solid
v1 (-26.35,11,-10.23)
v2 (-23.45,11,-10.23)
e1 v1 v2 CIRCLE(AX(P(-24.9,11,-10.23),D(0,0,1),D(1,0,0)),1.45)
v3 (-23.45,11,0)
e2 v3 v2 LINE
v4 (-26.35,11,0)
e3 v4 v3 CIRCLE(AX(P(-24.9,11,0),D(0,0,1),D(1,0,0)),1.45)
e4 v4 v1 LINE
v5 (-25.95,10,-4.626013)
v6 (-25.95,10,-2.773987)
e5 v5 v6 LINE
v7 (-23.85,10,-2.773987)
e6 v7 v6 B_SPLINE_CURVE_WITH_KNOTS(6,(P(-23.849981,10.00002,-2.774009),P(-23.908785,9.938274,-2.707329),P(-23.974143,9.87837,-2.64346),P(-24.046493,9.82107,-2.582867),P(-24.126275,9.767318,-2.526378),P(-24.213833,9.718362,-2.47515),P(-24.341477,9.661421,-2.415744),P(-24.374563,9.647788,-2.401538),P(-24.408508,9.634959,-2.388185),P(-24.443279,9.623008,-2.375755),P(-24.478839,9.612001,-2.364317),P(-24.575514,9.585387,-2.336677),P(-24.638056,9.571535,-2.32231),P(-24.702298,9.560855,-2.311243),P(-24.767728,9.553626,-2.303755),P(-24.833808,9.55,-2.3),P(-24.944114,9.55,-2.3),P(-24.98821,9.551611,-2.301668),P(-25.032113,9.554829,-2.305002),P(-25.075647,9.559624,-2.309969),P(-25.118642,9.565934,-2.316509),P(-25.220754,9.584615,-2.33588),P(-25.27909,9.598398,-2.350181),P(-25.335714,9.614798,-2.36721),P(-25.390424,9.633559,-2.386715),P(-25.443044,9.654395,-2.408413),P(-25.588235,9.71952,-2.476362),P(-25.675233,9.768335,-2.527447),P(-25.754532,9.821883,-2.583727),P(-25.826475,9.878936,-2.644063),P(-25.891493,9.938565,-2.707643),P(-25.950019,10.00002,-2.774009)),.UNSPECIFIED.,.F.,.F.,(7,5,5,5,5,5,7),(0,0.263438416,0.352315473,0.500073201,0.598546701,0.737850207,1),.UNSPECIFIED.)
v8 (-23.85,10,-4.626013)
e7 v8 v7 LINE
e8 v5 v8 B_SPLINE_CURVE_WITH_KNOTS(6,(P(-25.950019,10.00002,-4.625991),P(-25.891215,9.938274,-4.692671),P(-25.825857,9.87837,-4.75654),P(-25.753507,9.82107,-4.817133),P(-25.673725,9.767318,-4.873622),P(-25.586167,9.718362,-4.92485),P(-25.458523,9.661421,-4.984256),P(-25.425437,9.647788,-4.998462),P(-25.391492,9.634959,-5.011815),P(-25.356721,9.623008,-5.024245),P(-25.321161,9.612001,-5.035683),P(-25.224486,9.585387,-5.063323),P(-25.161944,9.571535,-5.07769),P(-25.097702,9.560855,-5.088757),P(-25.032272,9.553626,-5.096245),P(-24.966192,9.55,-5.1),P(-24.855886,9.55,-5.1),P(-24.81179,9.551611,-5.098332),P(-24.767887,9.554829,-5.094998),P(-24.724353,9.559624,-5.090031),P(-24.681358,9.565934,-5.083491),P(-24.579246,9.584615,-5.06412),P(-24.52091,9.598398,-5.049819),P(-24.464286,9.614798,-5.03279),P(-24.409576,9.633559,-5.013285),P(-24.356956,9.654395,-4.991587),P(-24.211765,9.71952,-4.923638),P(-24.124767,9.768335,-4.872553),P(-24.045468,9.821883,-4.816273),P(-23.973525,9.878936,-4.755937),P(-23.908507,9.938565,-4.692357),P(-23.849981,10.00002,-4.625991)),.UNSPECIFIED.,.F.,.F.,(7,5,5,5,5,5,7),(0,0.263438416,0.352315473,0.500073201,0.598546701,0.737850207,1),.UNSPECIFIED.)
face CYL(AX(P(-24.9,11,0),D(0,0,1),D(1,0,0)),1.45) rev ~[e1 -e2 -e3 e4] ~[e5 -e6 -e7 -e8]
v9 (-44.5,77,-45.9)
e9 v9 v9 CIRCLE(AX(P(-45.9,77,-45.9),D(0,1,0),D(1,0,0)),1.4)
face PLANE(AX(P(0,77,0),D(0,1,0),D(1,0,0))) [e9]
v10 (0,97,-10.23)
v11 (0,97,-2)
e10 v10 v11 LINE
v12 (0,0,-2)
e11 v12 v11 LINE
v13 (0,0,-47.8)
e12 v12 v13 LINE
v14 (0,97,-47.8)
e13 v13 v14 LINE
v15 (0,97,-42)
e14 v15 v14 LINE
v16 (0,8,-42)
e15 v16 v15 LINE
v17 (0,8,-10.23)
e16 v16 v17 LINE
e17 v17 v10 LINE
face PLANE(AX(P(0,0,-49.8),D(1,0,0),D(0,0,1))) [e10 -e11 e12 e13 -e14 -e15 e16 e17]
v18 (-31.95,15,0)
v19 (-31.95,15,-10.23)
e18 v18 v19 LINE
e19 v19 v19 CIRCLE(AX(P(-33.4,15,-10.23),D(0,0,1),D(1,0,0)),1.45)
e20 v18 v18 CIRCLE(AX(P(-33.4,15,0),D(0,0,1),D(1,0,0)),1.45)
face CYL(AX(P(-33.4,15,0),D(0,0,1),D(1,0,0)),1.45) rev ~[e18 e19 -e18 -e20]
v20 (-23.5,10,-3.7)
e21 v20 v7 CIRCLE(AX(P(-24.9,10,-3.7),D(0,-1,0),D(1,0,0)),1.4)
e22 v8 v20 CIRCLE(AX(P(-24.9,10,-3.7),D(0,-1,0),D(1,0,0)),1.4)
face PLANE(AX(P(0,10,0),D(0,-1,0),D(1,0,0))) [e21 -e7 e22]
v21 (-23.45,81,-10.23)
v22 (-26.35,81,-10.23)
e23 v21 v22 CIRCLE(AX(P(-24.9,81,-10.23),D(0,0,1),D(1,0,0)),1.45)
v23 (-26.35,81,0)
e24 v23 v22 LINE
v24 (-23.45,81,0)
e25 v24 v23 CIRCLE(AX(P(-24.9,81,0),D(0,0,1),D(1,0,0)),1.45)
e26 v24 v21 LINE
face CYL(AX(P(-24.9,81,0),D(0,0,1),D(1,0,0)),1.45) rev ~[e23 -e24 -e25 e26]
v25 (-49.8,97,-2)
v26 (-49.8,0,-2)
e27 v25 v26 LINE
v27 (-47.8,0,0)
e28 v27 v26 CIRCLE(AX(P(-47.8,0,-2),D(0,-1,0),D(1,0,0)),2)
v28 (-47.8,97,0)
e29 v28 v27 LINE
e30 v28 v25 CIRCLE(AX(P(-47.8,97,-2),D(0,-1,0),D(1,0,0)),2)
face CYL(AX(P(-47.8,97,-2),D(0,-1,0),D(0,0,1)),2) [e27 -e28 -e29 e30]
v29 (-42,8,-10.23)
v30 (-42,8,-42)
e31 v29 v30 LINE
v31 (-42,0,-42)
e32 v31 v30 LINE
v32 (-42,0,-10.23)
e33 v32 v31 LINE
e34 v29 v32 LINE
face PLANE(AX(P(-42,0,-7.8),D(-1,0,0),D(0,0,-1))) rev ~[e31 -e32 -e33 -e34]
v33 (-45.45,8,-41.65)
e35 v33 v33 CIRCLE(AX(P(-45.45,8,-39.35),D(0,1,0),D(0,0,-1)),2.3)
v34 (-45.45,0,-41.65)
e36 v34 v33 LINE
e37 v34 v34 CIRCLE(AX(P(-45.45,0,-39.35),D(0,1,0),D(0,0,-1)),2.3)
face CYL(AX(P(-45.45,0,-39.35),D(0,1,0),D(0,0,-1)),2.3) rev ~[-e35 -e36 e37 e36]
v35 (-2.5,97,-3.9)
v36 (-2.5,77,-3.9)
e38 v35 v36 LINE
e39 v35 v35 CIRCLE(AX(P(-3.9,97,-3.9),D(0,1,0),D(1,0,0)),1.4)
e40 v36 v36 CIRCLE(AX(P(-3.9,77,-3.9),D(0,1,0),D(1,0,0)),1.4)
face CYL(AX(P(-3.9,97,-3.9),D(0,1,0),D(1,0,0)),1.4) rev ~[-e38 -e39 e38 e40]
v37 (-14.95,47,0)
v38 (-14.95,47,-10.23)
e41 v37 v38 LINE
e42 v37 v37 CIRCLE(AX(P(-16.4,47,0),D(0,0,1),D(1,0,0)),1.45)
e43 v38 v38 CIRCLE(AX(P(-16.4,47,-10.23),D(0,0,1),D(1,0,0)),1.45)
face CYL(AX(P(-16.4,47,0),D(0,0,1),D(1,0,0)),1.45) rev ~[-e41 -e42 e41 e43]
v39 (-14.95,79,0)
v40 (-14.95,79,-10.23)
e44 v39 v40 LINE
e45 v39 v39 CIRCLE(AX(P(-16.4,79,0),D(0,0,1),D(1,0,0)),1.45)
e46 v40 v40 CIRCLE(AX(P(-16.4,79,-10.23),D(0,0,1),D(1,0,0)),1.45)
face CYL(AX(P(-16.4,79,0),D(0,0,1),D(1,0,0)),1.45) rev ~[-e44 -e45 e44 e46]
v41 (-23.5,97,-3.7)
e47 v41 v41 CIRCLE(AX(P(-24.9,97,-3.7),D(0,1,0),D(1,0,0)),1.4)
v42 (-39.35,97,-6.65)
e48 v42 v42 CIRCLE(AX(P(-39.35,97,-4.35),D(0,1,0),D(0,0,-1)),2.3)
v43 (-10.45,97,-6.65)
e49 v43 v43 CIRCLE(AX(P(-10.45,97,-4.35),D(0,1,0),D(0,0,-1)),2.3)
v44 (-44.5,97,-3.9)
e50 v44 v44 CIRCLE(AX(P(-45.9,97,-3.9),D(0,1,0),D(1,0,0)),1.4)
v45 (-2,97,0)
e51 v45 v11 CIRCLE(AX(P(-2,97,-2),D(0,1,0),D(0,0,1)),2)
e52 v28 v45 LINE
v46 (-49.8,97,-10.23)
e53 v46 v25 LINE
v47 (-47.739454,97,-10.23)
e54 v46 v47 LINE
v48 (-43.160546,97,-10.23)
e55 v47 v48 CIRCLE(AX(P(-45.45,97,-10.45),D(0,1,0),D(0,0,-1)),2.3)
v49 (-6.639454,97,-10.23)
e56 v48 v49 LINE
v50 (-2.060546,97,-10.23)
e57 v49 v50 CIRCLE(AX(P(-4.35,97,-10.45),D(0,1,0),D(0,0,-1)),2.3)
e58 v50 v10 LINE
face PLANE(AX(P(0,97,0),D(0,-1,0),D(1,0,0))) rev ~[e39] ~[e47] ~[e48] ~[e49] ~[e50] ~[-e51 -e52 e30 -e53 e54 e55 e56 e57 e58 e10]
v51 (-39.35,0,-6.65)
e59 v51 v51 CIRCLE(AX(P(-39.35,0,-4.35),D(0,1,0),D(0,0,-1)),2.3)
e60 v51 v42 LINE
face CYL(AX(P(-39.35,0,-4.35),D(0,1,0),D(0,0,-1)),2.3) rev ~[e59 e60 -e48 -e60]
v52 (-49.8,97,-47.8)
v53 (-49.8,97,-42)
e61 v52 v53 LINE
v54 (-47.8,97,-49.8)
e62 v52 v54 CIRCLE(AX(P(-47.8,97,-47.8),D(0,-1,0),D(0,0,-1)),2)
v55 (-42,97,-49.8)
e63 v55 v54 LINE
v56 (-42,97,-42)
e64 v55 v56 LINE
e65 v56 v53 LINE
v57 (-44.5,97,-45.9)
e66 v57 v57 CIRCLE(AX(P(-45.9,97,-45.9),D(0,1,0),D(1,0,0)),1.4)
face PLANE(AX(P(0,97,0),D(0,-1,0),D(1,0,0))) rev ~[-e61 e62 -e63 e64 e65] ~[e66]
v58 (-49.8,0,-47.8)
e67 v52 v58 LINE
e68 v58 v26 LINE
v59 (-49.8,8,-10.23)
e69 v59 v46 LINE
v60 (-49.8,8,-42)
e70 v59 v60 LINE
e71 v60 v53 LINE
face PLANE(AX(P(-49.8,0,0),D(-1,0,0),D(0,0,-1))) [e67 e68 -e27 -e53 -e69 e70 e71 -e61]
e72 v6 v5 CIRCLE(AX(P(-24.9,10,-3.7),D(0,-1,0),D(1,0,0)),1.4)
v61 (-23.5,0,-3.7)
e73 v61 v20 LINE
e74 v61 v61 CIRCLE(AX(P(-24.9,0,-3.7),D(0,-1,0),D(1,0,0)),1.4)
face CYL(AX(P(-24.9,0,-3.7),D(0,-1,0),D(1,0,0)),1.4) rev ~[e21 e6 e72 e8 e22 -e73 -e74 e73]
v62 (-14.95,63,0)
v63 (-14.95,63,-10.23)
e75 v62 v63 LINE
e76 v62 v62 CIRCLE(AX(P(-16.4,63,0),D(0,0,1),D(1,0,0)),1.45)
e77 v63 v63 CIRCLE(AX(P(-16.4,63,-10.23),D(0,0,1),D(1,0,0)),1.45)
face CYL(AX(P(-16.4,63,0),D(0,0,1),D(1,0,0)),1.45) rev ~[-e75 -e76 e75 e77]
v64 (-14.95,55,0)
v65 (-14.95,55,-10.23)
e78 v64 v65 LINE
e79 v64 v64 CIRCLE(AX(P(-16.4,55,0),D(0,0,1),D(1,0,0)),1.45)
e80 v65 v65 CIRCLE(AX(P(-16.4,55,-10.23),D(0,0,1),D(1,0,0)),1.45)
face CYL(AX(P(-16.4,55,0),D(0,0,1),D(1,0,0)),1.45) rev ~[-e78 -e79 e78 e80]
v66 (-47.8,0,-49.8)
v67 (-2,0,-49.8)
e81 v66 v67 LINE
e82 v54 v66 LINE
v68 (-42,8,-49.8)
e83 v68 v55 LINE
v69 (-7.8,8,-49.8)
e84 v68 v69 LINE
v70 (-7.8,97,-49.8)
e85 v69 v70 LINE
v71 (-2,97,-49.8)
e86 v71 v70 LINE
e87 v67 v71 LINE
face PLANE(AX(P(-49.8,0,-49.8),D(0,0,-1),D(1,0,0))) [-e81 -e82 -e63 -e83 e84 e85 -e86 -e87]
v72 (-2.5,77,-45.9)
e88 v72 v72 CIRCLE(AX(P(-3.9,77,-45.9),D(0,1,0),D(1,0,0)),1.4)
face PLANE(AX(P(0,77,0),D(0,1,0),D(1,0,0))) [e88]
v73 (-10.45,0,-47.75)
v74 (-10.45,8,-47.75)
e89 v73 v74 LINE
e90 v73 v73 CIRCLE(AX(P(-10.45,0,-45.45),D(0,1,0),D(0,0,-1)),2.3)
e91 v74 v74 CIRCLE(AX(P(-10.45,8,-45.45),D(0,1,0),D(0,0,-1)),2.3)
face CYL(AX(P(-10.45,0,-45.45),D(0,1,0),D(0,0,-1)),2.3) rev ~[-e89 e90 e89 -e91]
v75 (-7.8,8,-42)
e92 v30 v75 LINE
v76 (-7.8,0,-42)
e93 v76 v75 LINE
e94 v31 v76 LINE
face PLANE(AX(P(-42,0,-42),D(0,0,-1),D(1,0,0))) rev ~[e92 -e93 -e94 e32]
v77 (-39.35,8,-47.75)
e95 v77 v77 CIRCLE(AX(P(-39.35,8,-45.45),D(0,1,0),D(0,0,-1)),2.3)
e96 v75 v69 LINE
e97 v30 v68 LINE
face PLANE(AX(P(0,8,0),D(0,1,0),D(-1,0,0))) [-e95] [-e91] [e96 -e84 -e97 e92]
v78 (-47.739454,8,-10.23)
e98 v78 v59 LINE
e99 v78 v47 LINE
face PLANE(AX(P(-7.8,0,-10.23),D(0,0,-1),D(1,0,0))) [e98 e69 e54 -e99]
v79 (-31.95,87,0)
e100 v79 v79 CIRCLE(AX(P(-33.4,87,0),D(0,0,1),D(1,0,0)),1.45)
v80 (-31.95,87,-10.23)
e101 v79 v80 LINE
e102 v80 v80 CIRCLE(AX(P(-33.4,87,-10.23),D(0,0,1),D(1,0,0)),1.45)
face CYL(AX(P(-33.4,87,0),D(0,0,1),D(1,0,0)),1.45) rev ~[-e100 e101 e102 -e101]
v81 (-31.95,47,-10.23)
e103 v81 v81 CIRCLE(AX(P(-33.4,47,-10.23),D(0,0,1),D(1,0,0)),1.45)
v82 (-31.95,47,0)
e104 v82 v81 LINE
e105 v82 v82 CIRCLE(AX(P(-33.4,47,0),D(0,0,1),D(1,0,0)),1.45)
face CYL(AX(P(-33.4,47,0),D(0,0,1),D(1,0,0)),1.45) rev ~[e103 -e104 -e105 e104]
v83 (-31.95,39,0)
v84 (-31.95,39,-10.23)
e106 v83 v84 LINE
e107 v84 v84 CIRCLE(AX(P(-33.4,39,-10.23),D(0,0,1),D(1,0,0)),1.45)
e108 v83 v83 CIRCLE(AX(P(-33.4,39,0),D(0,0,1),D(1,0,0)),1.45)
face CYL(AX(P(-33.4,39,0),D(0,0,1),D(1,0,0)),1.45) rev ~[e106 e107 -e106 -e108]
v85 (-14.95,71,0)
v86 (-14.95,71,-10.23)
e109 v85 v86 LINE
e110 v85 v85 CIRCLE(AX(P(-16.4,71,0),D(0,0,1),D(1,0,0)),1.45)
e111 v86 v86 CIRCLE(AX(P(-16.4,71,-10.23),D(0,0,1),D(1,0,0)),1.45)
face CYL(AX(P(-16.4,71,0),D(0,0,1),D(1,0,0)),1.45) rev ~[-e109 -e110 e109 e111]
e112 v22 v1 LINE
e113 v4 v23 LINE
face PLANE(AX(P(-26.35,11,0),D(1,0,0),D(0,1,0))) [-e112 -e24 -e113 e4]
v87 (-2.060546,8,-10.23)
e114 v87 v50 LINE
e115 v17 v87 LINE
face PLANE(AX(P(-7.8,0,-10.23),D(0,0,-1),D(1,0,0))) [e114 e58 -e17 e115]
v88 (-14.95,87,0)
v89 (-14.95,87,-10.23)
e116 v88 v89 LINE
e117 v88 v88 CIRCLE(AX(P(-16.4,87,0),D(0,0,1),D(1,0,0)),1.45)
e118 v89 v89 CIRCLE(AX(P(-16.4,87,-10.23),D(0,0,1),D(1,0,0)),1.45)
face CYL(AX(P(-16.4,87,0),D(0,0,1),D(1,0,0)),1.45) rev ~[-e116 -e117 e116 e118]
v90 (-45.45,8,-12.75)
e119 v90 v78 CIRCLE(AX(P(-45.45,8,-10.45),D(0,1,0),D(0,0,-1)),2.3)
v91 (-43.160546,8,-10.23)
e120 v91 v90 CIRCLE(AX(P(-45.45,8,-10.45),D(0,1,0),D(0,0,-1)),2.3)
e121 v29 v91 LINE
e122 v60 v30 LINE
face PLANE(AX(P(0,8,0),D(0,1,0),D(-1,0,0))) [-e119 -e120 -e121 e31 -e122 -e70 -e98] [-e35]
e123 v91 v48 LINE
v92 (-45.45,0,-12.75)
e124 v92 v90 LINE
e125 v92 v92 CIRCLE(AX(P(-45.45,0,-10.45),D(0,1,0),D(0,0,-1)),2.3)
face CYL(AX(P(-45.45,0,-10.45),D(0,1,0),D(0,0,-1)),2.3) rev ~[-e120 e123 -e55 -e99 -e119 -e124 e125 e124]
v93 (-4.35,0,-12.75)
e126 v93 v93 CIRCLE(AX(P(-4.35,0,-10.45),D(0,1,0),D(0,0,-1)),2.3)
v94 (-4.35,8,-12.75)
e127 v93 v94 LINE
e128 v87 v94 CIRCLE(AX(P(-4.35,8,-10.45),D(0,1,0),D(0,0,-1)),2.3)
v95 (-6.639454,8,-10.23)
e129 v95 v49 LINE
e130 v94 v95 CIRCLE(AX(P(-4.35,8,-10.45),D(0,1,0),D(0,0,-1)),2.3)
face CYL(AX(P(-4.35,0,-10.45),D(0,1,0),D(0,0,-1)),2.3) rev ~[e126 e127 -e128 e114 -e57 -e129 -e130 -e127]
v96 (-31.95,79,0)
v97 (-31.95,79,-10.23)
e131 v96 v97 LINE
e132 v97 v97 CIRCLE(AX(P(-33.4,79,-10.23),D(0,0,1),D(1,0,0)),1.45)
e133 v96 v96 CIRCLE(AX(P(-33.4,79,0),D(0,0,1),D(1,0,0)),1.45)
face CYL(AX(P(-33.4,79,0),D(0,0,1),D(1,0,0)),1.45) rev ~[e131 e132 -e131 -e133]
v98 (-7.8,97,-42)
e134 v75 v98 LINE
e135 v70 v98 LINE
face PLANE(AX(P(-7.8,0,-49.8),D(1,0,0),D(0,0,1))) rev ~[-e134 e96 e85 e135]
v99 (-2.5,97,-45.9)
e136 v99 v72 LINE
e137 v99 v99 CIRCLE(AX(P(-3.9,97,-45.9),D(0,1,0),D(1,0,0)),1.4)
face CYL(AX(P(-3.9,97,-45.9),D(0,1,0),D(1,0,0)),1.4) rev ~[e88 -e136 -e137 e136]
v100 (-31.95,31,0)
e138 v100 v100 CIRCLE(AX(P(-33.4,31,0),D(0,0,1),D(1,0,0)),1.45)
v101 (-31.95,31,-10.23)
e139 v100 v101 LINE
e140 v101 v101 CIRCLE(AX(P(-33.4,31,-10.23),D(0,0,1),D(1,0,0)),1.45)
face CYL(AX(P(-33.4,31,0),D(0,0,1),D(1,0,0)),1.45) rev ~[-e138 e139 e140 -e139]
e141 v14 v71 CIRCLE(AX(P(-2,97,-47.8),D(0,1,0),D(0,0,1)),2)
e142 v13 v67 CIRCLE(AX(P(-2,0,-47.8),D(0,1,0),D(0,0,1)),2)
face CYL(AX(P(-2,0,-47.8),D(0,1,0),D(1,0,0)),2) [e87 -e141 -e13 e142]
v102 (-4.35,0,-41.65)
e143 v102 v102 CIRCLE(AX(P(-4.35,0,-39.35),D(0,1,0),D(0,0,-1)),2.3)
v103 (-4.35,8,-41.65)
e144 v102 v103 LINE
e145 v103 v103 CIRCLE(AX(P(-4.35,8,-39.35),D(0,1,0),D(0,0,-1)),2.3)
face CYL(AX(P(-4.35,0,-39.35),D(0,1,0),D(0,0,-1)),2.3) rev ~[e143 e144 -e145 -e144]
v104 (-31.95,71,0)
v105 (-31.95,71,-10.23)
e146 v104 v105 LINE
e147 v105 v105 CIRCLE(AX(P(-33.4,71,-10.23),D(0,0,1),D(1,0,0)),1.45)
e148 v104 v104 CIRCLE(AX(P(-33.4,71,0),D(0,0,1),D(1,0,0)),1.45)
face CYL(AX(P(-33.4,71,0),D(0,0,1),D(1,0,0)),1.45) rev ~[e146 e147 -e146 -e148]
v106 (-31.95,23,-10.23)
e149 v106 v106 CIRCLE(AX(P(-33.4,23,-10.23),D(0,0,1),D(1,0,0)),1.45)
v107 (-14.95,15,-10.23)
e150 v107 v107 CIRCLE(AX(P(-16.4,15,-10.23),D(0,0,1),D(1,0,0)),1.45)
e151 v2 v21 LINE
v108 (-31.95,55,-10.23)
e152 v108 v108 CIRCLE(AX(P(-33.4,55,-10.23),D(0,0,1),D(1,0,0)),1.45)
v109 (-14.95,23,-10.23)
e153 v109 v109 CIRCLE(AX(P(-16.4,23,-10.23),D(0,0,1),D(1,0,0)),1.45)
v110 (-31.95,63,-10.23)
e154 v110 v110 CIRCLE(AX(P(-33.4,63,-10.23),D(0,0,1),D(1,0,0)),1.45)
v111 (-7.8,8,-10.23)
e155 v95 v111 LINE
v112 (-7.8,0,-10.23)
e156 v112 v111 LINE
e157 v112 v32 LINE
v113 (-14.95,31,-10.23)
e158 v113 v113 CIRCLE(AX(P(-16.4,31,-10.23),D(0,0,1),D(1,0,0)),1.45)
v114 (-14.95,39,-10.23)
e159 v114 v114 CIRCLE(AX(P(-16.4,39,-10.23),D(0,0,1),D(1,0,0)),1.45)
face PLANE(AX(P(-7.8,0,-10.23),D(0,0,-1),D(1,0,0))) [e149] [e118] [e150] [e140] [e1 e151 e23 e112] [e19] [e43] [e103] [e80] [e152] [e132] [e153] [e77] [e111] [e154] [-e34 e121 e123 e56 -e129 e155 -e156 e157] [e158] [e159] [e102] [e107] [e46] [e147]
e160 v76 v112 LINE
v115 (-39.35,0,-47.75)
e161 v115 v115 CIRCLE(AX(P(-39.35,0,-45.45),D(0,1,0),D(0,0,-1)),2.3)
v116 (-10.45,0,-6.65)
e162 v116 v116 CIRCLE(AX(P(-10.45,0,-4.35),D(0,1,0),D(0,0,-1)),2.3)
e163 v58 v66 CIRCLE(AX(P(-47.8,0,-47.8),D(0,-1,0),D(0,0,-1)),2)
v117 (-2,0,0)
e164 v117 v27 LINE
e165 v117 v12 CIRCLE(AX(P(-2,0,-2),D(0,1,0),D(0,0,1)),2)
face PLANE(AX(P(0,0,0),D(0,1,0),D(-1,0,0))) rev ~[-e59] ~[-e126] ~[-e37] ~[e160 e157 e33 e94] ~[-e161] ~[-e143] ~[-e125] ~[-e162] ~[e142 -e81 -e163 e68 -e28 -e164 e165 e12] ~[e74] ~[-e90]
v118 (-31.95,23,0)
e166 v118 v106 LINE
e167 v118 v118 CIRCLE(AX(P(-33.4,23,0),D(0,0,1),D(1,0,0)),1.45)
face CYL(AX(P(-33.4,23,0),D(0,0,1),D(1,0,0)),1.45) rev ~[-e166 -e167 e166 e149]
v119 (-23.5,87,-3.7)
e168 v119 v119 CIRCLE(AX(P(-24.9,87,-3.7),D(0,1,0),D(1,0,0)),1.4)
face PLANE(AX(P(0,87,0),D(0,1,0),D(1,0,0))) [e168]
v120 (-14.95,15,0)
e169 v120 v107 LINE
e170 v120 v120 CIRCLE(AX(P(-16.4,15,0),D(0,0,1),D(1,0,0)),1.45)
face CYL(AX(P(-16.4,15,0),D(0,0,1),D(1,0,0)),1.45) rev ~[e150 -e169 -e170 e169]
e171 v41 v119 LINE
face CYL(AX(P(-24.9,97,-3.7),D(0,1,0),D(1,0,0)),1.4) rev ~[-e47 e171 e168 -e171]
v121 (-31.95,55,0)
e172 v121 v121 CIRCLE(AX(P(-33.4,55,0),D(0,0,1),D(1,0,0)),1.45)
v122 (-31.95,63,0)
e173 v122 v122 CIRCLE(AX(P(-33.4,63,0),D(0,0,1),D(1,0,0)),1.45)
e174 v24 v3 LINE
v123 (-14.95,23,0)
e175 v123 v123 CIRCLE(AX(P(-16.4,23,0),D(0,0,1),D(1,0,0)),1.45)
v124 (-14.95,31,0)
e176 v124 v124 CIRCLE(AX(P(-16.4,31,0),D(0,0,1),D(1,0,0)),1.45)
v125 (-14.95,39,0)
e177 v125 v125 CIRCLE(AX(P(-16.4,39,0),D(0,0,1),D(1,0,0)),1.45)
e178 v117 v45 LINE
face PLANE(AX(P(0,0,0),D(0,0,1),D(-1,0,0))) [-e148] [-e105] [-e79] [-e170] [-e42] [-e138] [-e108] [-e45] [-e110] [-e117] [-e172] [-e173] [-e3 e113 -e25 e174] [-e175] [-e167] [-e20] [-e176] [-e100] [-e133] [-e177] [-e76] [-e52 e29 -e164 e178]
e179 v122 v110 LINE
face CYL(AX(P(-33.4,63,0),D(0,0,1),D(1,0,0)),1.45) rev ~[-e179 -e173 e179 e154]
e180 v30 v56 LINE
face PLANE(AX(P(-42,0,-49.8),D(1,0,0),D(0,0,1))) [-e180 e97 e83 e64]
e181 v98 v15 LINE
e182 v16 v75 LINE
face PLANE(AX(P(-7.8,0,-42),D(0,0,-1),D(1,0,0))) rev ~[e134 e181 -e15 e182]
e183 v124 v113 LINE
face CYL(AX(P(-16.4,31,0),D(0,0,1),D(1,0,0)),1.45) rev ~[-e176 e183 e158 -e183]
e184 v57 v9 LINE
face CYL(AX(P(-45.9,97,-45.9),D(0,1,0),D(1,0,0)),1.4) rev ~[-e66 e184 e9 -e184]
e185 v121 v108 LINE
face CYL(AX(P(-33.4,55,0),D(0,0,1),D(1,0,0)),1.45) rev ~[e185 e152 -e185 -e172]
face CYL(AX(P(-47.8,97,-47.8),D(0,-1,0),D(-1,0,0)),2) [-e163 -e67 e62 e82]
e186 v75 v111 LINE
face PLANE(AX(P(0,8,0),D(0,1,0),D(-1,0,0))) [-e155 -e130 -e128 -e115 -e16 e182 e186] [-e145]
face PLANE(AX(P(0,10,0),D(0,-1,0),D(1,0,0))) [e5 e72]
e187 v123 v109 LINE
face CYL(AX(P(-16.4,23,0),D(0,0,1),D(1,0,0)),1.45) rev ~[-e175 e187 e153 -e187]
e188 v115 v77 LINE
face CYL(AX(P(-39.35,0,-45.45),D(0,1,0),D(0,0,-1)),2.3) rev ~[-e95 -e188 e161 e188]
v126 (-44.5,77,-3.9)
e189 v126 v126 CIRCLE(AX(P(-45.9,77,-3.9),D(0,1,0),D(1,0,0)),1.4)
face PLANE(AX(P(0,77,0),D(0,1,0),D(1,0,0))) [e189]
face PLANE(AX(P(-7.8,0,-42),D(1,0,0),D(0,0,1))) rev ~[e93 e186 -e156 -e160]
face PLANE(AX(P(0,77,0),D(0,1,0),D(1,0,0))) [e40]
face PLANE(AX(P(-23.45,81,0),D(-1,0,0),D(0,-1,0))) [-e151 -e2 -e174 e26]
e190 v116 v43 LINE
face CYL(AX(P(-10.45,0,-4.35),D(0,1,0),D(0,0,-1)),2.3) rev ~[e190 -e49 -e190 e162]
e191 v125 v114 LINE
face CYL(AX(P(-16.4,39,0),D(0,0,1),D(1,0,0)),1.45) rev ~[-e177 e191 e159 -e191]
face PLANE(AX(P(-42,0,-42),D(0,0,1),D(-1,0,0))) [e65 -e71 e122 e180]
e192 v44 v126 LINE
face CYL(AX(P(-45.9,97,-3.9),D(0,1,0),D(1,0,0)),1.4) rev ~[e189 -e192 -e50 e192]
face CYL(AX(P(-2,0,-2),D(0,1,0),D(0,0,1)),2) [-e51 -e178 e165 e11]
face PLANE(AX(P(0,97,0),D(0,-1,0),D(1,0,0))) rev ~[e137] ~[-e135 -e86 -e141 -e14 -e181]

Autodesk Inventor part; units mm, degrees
ref_plane "YZ Plane" through (0, 0, 0) normal (1, 0, 0) x (0, 1, 0)
ref_plane "XZ Plane" through (0, 0, 0) normal (0, 1, 0) x (-1, 0, 0)
ref_plane "XY Plane" through (0, 0, 0) normal (0, 0, 1) x (1, 0, 0)
sketch "Sketch1" plane through (0, 0, 0) normal (0, 1, 0) x (-1, 0, 0)
  line L0 (0, 0) -> (49.8, 0)
  line L1 (49.8, 0) -> (49.8, -49.8)
  line L2 (49.8, -49.8) -> (0, -49.8)
  line L3 (0, -49.8) -> (0, 0)
  line L4 (7.8, -7.8) -> (42, -7.8)
  line L5 (42, -7.8) -> (42, -42)
  line L6 (42, -42) -> (7.8, -42)
  line L7 (7.8, -42) -> (7.8, -7.8)
  dimension "d0" = 49.8
  dimension "d1" = 49.8
  dimension "d2" = 7.8
extrude "Extrusion1" add sketch "Sketch1" along normal blind 8
sketch "Sketch3" plane through (0, 0, 0) normal (0, -1, 0) x (1, 0, 0)
  line L0 (-49.8, 0) -> (0, 0) projected
  line L1 (-49.8, -49.8) -> (-49.8, 0) projected
  line L2 (0, 0) -> (-49.8, 0)
  line L3 (-49.8, 0) -> (-49.8, -10.23)
  line L4 (-49.8, -10.23) -> (0, -10.23)
  line L5 (0, -10.23) -> (0, 0)
  line L6 (-7.8, -42) -> (-7.8, -7.8) projected
  line L7 (0, -49.8) -> (-7.8, -49.8)
  line L8 (-7.8, -49.8) -> (-7.8, -42)
  line L9 (-7.8, -42) -> (0, -42)
  line L10 (0, -42) -> (0, -49.8)
  line L11 (0, -49.8) -> (-49.8, -49.8) projected
  line L12 (-42, -7.8) -> (-42, -42) projected
  line L13 (-49.8, -49.8) -> (-42, -49.8)
  line L14 (-42, -49.8) -> (-42, -42)
  line L15 (-42, -42) -> (-49.8, -42)
  line L16 (-49.8, -42) -> (-49.8, -49.8)
  dimension "d6" = 10.23
extrude "Extrusion2" add sketch "Sketch3" against normal blind 97 contours L0 L5 L4 L1 | L15 L14 L11 L1 | L9 L10 L7 L8
sketch "Sketch4" plane through (-49.8, 0, 0) normal (0, 0, 1) x (1, 0, 0)
  line L0 (23.45, 81) -> (26.35, 81)
  line L1 (26.35, 81) -> (26.35, 11)
  line L2 (26.35, 11) -> (23.45, 11)
  line L3 (23.45, 11) -> (23.45, 81)
  line L4 (49.8, 0) -> (49.8, 97) projected
  line L5 (0, 0) -> (49.8, 0) projected
  circle A0 centre (24.9, 81) radius 1.45
  circle A1 centre (24.9, 11) radius 1.45
  circle A2 centre (16.4, 87) radius 1.45
  circle A3 centre (33.4, 87) radius 1.45
  line L6 (0, 97) -> (49.8, 97) projected
  circle A4 centre (16.4, 79) radius 1.45
  circle A5 centre (33.4, 79) radius 1.45
  circle A6 centre (16.4, 71) radius 1.45
  circle A7 centre (33.4, 71) radius 1.45
  circle A8 centre (16.4, 63) radius 1.45
  circle A9 centre (33.4, 63) radius 1.45
  circle A10 centre (16.4, 55) radius 1.45
  circle A11 centre (33.4, 55) radius 1.45
  circle A12 centre (16.4, 47) radius 1.45
  circle A13 centre (33.4, 47) radius 1.45
  circle A14 centre (16.4, 39) radius 1.45
  circle A15 centre (33.4, 39) radius 1.45
  circle A16 centre (16.4, 31) radius 1.45
  circle A17 centre (33.4, 31) radius 1.45
  circle A18 centre (16.4, 23) radius 1.45
  circle A19 centre (33.4, 23) radius 1.45
  circle A20 centre (16.4, 15) radius 1.45
  circle A21 centre (33.4, 15) radius 1.45
  point P0 (32.35, 97)
  point P1 (34.45, 97)
  dimension "d9" = 2.9
  dimension "d10" = 70
  dimension "d11" = 23.45
  dimension "d12" = 11
  dimension "d15" = 2.9
  dimension "d16" = 7.05
  dimension "d17" = 2.9
  dimension "d18" = 7.05
  dimension "d19" = 10
  dimension "d20" = 10
  dimension "d23" = 8
  dimension "d52" = 8
extrude "Extrusion3" cut sketch "Sketch4" against normal through all
sketch "Sketch5" plane through (0, 97, 0) normal (0, 1, 0) x (1, 0, 0)
  circle A0 centre (-45.9, 45.9) radius 1.4
  circle A1 centre (-3.9, 45.9) radius 1.4
  line L0 (-49.8, 49.8) -> (-49.8, 0) projected
  line L1 (-49.8, 24.9) -> (-42, 24.9)
  line L2 (-42, 10.23) -> (-42, 42) projected
  circle A2 centre (-45.9, 3.9) radius 1.4
  circle A3 centre (-3.9, 3.9) radius 1.4
  point P0 (0, 0)
  dimension "d28" = 2.8
  dimension "d29" = 2.8
extrude "Extrusion4" cut sketch "Sketch5" against normal blind 20
sketch "Sketch6" plane through (0, 0, 0) normal (0, -1, 0) x (1, 0, 0)
  line L0 (-49.8, 0) -> (0, 0) projected
  circle A0 centre (-24.9, -3.7) radius 1.4
  line L1 (-49.8, -49.8) -> (-49.8, 0) projected
  dimension "d37" = 2.8
  dimension "d38" = 3.7
  dimension "d39" = 24.9
extrude "Extrusion5" cut sketch "Sketch6" against normal blind 10
fillet "Fillet1" radius 2 4 edges at (0, 48.5, 0) (0, 48.5, -49.8) (-49.8, 48.5, -49.8) (-49.8, 48.5, 0)
sketch "Sketch7" plane through (0, 97, 0) normal (0, 1, 0) x (1, 0, 0)
  circle A0 centre (-24.9, 3.7) radius 1.4 projected
  circle A1 centre (-24.9, 3.7) radius 1.4
  point P0 (0, 0)
extrude "Extrusion6" cut sketch "Sketch7" against normal blind 10
ref_plane "Arbeitsebene1" through (-24.9, 8, -10.23) normal (-1, 0, 0) x (0, 0, 1)
ref_plane "Arbeitsebene2" through (-47.8, 0, -24.9) normal (0, 0, 1) x (1, 0, 0)
sketch "Skizze8" plane through (0, 0, 0) normal (0, -1, 0) x (1, 0, 0)
  line L0 (-49.9, -29.9) -> (-49.9, -47.9) projected
  arc A0 (-49.9, -47.9) -> (-47.9, -49.9) centre (-47.9, -47.9) ccw projected
  line L1 (-30.0511, -49.9) -> (-47.9, -49.9) projected
  line L2 (-30.0511, -49.9) -> (-30.0509, -49.1742) projected
  arc A1 (-30.0509, -49.1742) -> (-30.2806, -48.8498) centre (-30.3999, -49.1778) ccw projected
  arc A2 (-31.9947, -46.7407) -> (-30.2806, -48.8498) centre (-29.84, -46.7407) ccw projected
  line L3 (-31.9947, -46.7407) -> (-31.9947, -46.6009) projected
  arc A3 (-29.8434, -44.4498) -> (-31.9947, -46.6009) centre (-29.8435, -46.6009) ccw projected
  line L4 (-29.8434, -44.4498) -> (-19.9598, -44.4503) projected
  arc A4 (-17.81, -46.6004) -> (-19.9598, -44.4503) centre (-19.96, -46.6003) ccw projected
  line L5 (-17.81, -46.6004) -> (-17.81, -46.7408) projected
  arc A5 (-19.52, -48.8451) -> (-17.81, -46.7408) centre (-19.9599, -46.7406) ccw projected
  arc A6 (-19.52, -48.8451) -> (-19.7498, -49.1739) centre (-19.3996, -49.1739) ccw projected
  line L6 (-19.7498, -49.1739) -> (-19.7495, -49.9) projected
  line L7 (-1.9, -49.9) -> (-19.7495, -49.9) projected
  arc A7 (-1.9, -49.9) -> (0.1, -47.9) centre (-1.9, -47.9) ccw projected
  line L8 (0.1, -47.9) -> (0.1, -30.0511) projected
  line L9 (0.1, -30.0511) -> (-0.6258, -30.0509) projected
  arc A8 (-0.6258, -30.0509) -> (-0.9502, -30.2806) centre (-0.6222, -30.3999) ccw projected
  arc A9 (-3.0593, -31.9947) -> (-0.9502, -30.2806) centre (-3.0593, -29.84) ccw projected
  line L10 (-3.0593, -31.9947) -> (-3.1991, -31.9947) projected
  arc A10 (-5.3502, -29.8434) -> (-3.1991, -31.9947) centre (-3.1991, -29.8435) ccw projected
  line L11 (-5.3502, -29.8434) -> (-5.3497, -19.9598) projected
  arc A11 (-3.1996, -17.81) -> (-5.3497, -19.9598) centre (-3.1997, -19.96) ccw projected
  line L12 (-3.1996, -17.81) -> (-3.0592, -17.81) projected
  arc A12 (-0.9549, -19.52) -> (-3.0592, -17.81) centre (-3.0594, -19.9599) ccw projected
  arc A13 (-0.9549, -19.52) -> (-0.6261, -19.7498) centre (-0.6261, -19.3996) ccw projected
  line L13 (-0.6261, -19.7498) -> (0.1, -19.7495) projected
  line L14 (0.1, -19.7495) -> (0.1, -1.9) projected
  arc A14 (0.1, -1.9) -> (-1.9, 0.1) centre (-1.9, -1.9) ccw projected
  line L15 (-19.9, 0.1) -> (-1.9, 0.1) projected
  line L16 (-19.9, 0.1) -> (-19.9, 0.9263) projected
  arc A15 (-19.56, 1.4) -> (-19.9, 0.9263) centre (-19.4, 0.9263) ccw projected
  arc A16 (-19.56, 1.4) -> (-17.96, 3.3596) centre (-19.96, 3.3596) ccw projected
  line L17 (-17.96, 3.3596) -> (-17.96, 3.5) projected
  arc A17 (-17.96, 3.5) -> (-19.96, 5.5) centre (-19.96, 3.5) ccw projected
  line L18 (-19.96, 5.5) -> (-29.84, 5.5) projected
  arc A18 (-29.84, 5.5) -> (-31.84, 3.5) centre (-29.84, 3.5) ccw projected
  line L19 (-31.84, 3.5) -> (-31.84, 3.3596) projected
  arc A19 (-31.84, 3.3596) -> (-30.24, 1.4) centre (-29.84, 3.3596) ccw projected
  arc A20 (-29.9, 0.9263) -> (-30.24, 1.4) centre (-30.4, 0.9263) ccw projected
  line L20 (-29.9, 0.9263) -> (-29.9, 0.1) projected
  line L21 (-47.9, 0.1) -> (-29.9, 0.1) projected
  arc A21 (-47.9, 0.1) -> (-49.9, -1.9) centre (-47.9, -1.9) ccw projected
  line L22 (-49.9, -1.9) -> (-49.9, -19.9) projected
  line L23 (-49.9, -19.9) -> (-50.7263, -19.9) projected
  arc A22 (-51.2, -19.56) -> (-50.7263, -19.9) centre (-50.7263, -19.4) ccw projected
  arc A23 (-51.2, -19.56) -> (-53.1596, -17.96) centre (-53.1596, -19.96) ccw projected
  line L24 (-53.1596, -17.96) -> (-53.3, -17.96) projected
  arc A24 (-53.3, -17.96) -> (-55.3, -19.96) centre (-53.3, -19.96) ccw projected
  line L25 (-55.3, -19.96) -> (-55.3, -29.84) projected
  arc A25 (-55.3, -29.84) -> (-53.3, -31.84) centre (-53.3, -29.84) ccw projected
  line L26 (-53.3, -31.84) -> (-53.1596, -31.84) projected
  arc A26 (-53.1596, -31.84) -> (-51.2, -30.24) centre (-53.1596, -29.84) ccw projected
  arc A27 (-50.7263, -29.9) -> (-51.2, -30.24) centre (-50.7263, -30.4) ccw projected
  line L27 (-50.7263, -29.9) -> (-49.9, -29.9) projected
  arc A28 (-49.9, -26.2329) -> (-49.9, -23.7671) centre (-46.2, -25) ccw projected
  line L28 (-49.9, -26.2329) -> (-49.9, -23.7671) projected
  circle A29 centre (-25, -3.6) radius 3.9 projected
  line L29 (-7.6, -40.2) -> (-7.6, -9.6) projected
  arc A30 (-9.6, -42.2) -> (-7.6, -40.2) centre (-9.6, -40.2) ccw projected
  line L30 (-9.6, -42.2) -> (-40.2, -42.2) projected
  arc A31 (-42.2, -40.2) -> (-40.2, -42.2) centre (-40.2, -40.2) ccw projected
  line L31 (-42.2, -9.6) -> (-42.2, -40.2) projected
  arc A32 (-40.2, -7.6) -> (-42.2, -9.6) centre (-40.2, -9.6) ccw projected
  line L32 (-40.2, -7.6) -> (-9.6, -7.6) projected
  arc A33 (-7.6, -9.6) -> (-9.6, -7.6) centre (-9.6, -9.6) ccw projected
  circle A34 centre (-44.8, -5) radius 2.4 projected
  circle A35 centre (-39.35, -4.35) radius 2.45 projected
  circle A36 centre (-45.45, -10.45) radius 2.45 projected
  circle A37 centre (-4.35, -10.45) radius 2.45 projected
  circle A38 centre (-10.45, -4.35) radius 2.45 projected
  circle A39 centre (-5, -5) radius 2.4 projected
  circle A40 centre (-45.45, -39.35) radius 2.45 projected
  circle A41 centre (-39.35, -45.45) radius 2.45 projected
  circle A42 centre (-44.8, -44.8) radius 2.4 projected
  circle A43 centre (-4.35, -39.35) radius 2.45 projected
  circle A44 centre (-10.45, -45.45) radius 2.45 projected
  circle A45 centre (-5, -44.8) radius 2.4 projected
  point P0 (0, 0)
hole "Bohrung1" at (-45.45, 0, -39.35) at (-45.45, 0, -10.45) at (-39.35, 0, -4.35) at (-10.45, 0, -4.35) at (-4.35, 0, -10.45) at (-4.35, 0, -39.35) at (-10.45, 0, -45.45) at (-39.35, 0, -45.45) direction (0, 1, 0) diameter 4.6 end through all
properties part number "00_Linear_Stage_NEMA11_Mount"
